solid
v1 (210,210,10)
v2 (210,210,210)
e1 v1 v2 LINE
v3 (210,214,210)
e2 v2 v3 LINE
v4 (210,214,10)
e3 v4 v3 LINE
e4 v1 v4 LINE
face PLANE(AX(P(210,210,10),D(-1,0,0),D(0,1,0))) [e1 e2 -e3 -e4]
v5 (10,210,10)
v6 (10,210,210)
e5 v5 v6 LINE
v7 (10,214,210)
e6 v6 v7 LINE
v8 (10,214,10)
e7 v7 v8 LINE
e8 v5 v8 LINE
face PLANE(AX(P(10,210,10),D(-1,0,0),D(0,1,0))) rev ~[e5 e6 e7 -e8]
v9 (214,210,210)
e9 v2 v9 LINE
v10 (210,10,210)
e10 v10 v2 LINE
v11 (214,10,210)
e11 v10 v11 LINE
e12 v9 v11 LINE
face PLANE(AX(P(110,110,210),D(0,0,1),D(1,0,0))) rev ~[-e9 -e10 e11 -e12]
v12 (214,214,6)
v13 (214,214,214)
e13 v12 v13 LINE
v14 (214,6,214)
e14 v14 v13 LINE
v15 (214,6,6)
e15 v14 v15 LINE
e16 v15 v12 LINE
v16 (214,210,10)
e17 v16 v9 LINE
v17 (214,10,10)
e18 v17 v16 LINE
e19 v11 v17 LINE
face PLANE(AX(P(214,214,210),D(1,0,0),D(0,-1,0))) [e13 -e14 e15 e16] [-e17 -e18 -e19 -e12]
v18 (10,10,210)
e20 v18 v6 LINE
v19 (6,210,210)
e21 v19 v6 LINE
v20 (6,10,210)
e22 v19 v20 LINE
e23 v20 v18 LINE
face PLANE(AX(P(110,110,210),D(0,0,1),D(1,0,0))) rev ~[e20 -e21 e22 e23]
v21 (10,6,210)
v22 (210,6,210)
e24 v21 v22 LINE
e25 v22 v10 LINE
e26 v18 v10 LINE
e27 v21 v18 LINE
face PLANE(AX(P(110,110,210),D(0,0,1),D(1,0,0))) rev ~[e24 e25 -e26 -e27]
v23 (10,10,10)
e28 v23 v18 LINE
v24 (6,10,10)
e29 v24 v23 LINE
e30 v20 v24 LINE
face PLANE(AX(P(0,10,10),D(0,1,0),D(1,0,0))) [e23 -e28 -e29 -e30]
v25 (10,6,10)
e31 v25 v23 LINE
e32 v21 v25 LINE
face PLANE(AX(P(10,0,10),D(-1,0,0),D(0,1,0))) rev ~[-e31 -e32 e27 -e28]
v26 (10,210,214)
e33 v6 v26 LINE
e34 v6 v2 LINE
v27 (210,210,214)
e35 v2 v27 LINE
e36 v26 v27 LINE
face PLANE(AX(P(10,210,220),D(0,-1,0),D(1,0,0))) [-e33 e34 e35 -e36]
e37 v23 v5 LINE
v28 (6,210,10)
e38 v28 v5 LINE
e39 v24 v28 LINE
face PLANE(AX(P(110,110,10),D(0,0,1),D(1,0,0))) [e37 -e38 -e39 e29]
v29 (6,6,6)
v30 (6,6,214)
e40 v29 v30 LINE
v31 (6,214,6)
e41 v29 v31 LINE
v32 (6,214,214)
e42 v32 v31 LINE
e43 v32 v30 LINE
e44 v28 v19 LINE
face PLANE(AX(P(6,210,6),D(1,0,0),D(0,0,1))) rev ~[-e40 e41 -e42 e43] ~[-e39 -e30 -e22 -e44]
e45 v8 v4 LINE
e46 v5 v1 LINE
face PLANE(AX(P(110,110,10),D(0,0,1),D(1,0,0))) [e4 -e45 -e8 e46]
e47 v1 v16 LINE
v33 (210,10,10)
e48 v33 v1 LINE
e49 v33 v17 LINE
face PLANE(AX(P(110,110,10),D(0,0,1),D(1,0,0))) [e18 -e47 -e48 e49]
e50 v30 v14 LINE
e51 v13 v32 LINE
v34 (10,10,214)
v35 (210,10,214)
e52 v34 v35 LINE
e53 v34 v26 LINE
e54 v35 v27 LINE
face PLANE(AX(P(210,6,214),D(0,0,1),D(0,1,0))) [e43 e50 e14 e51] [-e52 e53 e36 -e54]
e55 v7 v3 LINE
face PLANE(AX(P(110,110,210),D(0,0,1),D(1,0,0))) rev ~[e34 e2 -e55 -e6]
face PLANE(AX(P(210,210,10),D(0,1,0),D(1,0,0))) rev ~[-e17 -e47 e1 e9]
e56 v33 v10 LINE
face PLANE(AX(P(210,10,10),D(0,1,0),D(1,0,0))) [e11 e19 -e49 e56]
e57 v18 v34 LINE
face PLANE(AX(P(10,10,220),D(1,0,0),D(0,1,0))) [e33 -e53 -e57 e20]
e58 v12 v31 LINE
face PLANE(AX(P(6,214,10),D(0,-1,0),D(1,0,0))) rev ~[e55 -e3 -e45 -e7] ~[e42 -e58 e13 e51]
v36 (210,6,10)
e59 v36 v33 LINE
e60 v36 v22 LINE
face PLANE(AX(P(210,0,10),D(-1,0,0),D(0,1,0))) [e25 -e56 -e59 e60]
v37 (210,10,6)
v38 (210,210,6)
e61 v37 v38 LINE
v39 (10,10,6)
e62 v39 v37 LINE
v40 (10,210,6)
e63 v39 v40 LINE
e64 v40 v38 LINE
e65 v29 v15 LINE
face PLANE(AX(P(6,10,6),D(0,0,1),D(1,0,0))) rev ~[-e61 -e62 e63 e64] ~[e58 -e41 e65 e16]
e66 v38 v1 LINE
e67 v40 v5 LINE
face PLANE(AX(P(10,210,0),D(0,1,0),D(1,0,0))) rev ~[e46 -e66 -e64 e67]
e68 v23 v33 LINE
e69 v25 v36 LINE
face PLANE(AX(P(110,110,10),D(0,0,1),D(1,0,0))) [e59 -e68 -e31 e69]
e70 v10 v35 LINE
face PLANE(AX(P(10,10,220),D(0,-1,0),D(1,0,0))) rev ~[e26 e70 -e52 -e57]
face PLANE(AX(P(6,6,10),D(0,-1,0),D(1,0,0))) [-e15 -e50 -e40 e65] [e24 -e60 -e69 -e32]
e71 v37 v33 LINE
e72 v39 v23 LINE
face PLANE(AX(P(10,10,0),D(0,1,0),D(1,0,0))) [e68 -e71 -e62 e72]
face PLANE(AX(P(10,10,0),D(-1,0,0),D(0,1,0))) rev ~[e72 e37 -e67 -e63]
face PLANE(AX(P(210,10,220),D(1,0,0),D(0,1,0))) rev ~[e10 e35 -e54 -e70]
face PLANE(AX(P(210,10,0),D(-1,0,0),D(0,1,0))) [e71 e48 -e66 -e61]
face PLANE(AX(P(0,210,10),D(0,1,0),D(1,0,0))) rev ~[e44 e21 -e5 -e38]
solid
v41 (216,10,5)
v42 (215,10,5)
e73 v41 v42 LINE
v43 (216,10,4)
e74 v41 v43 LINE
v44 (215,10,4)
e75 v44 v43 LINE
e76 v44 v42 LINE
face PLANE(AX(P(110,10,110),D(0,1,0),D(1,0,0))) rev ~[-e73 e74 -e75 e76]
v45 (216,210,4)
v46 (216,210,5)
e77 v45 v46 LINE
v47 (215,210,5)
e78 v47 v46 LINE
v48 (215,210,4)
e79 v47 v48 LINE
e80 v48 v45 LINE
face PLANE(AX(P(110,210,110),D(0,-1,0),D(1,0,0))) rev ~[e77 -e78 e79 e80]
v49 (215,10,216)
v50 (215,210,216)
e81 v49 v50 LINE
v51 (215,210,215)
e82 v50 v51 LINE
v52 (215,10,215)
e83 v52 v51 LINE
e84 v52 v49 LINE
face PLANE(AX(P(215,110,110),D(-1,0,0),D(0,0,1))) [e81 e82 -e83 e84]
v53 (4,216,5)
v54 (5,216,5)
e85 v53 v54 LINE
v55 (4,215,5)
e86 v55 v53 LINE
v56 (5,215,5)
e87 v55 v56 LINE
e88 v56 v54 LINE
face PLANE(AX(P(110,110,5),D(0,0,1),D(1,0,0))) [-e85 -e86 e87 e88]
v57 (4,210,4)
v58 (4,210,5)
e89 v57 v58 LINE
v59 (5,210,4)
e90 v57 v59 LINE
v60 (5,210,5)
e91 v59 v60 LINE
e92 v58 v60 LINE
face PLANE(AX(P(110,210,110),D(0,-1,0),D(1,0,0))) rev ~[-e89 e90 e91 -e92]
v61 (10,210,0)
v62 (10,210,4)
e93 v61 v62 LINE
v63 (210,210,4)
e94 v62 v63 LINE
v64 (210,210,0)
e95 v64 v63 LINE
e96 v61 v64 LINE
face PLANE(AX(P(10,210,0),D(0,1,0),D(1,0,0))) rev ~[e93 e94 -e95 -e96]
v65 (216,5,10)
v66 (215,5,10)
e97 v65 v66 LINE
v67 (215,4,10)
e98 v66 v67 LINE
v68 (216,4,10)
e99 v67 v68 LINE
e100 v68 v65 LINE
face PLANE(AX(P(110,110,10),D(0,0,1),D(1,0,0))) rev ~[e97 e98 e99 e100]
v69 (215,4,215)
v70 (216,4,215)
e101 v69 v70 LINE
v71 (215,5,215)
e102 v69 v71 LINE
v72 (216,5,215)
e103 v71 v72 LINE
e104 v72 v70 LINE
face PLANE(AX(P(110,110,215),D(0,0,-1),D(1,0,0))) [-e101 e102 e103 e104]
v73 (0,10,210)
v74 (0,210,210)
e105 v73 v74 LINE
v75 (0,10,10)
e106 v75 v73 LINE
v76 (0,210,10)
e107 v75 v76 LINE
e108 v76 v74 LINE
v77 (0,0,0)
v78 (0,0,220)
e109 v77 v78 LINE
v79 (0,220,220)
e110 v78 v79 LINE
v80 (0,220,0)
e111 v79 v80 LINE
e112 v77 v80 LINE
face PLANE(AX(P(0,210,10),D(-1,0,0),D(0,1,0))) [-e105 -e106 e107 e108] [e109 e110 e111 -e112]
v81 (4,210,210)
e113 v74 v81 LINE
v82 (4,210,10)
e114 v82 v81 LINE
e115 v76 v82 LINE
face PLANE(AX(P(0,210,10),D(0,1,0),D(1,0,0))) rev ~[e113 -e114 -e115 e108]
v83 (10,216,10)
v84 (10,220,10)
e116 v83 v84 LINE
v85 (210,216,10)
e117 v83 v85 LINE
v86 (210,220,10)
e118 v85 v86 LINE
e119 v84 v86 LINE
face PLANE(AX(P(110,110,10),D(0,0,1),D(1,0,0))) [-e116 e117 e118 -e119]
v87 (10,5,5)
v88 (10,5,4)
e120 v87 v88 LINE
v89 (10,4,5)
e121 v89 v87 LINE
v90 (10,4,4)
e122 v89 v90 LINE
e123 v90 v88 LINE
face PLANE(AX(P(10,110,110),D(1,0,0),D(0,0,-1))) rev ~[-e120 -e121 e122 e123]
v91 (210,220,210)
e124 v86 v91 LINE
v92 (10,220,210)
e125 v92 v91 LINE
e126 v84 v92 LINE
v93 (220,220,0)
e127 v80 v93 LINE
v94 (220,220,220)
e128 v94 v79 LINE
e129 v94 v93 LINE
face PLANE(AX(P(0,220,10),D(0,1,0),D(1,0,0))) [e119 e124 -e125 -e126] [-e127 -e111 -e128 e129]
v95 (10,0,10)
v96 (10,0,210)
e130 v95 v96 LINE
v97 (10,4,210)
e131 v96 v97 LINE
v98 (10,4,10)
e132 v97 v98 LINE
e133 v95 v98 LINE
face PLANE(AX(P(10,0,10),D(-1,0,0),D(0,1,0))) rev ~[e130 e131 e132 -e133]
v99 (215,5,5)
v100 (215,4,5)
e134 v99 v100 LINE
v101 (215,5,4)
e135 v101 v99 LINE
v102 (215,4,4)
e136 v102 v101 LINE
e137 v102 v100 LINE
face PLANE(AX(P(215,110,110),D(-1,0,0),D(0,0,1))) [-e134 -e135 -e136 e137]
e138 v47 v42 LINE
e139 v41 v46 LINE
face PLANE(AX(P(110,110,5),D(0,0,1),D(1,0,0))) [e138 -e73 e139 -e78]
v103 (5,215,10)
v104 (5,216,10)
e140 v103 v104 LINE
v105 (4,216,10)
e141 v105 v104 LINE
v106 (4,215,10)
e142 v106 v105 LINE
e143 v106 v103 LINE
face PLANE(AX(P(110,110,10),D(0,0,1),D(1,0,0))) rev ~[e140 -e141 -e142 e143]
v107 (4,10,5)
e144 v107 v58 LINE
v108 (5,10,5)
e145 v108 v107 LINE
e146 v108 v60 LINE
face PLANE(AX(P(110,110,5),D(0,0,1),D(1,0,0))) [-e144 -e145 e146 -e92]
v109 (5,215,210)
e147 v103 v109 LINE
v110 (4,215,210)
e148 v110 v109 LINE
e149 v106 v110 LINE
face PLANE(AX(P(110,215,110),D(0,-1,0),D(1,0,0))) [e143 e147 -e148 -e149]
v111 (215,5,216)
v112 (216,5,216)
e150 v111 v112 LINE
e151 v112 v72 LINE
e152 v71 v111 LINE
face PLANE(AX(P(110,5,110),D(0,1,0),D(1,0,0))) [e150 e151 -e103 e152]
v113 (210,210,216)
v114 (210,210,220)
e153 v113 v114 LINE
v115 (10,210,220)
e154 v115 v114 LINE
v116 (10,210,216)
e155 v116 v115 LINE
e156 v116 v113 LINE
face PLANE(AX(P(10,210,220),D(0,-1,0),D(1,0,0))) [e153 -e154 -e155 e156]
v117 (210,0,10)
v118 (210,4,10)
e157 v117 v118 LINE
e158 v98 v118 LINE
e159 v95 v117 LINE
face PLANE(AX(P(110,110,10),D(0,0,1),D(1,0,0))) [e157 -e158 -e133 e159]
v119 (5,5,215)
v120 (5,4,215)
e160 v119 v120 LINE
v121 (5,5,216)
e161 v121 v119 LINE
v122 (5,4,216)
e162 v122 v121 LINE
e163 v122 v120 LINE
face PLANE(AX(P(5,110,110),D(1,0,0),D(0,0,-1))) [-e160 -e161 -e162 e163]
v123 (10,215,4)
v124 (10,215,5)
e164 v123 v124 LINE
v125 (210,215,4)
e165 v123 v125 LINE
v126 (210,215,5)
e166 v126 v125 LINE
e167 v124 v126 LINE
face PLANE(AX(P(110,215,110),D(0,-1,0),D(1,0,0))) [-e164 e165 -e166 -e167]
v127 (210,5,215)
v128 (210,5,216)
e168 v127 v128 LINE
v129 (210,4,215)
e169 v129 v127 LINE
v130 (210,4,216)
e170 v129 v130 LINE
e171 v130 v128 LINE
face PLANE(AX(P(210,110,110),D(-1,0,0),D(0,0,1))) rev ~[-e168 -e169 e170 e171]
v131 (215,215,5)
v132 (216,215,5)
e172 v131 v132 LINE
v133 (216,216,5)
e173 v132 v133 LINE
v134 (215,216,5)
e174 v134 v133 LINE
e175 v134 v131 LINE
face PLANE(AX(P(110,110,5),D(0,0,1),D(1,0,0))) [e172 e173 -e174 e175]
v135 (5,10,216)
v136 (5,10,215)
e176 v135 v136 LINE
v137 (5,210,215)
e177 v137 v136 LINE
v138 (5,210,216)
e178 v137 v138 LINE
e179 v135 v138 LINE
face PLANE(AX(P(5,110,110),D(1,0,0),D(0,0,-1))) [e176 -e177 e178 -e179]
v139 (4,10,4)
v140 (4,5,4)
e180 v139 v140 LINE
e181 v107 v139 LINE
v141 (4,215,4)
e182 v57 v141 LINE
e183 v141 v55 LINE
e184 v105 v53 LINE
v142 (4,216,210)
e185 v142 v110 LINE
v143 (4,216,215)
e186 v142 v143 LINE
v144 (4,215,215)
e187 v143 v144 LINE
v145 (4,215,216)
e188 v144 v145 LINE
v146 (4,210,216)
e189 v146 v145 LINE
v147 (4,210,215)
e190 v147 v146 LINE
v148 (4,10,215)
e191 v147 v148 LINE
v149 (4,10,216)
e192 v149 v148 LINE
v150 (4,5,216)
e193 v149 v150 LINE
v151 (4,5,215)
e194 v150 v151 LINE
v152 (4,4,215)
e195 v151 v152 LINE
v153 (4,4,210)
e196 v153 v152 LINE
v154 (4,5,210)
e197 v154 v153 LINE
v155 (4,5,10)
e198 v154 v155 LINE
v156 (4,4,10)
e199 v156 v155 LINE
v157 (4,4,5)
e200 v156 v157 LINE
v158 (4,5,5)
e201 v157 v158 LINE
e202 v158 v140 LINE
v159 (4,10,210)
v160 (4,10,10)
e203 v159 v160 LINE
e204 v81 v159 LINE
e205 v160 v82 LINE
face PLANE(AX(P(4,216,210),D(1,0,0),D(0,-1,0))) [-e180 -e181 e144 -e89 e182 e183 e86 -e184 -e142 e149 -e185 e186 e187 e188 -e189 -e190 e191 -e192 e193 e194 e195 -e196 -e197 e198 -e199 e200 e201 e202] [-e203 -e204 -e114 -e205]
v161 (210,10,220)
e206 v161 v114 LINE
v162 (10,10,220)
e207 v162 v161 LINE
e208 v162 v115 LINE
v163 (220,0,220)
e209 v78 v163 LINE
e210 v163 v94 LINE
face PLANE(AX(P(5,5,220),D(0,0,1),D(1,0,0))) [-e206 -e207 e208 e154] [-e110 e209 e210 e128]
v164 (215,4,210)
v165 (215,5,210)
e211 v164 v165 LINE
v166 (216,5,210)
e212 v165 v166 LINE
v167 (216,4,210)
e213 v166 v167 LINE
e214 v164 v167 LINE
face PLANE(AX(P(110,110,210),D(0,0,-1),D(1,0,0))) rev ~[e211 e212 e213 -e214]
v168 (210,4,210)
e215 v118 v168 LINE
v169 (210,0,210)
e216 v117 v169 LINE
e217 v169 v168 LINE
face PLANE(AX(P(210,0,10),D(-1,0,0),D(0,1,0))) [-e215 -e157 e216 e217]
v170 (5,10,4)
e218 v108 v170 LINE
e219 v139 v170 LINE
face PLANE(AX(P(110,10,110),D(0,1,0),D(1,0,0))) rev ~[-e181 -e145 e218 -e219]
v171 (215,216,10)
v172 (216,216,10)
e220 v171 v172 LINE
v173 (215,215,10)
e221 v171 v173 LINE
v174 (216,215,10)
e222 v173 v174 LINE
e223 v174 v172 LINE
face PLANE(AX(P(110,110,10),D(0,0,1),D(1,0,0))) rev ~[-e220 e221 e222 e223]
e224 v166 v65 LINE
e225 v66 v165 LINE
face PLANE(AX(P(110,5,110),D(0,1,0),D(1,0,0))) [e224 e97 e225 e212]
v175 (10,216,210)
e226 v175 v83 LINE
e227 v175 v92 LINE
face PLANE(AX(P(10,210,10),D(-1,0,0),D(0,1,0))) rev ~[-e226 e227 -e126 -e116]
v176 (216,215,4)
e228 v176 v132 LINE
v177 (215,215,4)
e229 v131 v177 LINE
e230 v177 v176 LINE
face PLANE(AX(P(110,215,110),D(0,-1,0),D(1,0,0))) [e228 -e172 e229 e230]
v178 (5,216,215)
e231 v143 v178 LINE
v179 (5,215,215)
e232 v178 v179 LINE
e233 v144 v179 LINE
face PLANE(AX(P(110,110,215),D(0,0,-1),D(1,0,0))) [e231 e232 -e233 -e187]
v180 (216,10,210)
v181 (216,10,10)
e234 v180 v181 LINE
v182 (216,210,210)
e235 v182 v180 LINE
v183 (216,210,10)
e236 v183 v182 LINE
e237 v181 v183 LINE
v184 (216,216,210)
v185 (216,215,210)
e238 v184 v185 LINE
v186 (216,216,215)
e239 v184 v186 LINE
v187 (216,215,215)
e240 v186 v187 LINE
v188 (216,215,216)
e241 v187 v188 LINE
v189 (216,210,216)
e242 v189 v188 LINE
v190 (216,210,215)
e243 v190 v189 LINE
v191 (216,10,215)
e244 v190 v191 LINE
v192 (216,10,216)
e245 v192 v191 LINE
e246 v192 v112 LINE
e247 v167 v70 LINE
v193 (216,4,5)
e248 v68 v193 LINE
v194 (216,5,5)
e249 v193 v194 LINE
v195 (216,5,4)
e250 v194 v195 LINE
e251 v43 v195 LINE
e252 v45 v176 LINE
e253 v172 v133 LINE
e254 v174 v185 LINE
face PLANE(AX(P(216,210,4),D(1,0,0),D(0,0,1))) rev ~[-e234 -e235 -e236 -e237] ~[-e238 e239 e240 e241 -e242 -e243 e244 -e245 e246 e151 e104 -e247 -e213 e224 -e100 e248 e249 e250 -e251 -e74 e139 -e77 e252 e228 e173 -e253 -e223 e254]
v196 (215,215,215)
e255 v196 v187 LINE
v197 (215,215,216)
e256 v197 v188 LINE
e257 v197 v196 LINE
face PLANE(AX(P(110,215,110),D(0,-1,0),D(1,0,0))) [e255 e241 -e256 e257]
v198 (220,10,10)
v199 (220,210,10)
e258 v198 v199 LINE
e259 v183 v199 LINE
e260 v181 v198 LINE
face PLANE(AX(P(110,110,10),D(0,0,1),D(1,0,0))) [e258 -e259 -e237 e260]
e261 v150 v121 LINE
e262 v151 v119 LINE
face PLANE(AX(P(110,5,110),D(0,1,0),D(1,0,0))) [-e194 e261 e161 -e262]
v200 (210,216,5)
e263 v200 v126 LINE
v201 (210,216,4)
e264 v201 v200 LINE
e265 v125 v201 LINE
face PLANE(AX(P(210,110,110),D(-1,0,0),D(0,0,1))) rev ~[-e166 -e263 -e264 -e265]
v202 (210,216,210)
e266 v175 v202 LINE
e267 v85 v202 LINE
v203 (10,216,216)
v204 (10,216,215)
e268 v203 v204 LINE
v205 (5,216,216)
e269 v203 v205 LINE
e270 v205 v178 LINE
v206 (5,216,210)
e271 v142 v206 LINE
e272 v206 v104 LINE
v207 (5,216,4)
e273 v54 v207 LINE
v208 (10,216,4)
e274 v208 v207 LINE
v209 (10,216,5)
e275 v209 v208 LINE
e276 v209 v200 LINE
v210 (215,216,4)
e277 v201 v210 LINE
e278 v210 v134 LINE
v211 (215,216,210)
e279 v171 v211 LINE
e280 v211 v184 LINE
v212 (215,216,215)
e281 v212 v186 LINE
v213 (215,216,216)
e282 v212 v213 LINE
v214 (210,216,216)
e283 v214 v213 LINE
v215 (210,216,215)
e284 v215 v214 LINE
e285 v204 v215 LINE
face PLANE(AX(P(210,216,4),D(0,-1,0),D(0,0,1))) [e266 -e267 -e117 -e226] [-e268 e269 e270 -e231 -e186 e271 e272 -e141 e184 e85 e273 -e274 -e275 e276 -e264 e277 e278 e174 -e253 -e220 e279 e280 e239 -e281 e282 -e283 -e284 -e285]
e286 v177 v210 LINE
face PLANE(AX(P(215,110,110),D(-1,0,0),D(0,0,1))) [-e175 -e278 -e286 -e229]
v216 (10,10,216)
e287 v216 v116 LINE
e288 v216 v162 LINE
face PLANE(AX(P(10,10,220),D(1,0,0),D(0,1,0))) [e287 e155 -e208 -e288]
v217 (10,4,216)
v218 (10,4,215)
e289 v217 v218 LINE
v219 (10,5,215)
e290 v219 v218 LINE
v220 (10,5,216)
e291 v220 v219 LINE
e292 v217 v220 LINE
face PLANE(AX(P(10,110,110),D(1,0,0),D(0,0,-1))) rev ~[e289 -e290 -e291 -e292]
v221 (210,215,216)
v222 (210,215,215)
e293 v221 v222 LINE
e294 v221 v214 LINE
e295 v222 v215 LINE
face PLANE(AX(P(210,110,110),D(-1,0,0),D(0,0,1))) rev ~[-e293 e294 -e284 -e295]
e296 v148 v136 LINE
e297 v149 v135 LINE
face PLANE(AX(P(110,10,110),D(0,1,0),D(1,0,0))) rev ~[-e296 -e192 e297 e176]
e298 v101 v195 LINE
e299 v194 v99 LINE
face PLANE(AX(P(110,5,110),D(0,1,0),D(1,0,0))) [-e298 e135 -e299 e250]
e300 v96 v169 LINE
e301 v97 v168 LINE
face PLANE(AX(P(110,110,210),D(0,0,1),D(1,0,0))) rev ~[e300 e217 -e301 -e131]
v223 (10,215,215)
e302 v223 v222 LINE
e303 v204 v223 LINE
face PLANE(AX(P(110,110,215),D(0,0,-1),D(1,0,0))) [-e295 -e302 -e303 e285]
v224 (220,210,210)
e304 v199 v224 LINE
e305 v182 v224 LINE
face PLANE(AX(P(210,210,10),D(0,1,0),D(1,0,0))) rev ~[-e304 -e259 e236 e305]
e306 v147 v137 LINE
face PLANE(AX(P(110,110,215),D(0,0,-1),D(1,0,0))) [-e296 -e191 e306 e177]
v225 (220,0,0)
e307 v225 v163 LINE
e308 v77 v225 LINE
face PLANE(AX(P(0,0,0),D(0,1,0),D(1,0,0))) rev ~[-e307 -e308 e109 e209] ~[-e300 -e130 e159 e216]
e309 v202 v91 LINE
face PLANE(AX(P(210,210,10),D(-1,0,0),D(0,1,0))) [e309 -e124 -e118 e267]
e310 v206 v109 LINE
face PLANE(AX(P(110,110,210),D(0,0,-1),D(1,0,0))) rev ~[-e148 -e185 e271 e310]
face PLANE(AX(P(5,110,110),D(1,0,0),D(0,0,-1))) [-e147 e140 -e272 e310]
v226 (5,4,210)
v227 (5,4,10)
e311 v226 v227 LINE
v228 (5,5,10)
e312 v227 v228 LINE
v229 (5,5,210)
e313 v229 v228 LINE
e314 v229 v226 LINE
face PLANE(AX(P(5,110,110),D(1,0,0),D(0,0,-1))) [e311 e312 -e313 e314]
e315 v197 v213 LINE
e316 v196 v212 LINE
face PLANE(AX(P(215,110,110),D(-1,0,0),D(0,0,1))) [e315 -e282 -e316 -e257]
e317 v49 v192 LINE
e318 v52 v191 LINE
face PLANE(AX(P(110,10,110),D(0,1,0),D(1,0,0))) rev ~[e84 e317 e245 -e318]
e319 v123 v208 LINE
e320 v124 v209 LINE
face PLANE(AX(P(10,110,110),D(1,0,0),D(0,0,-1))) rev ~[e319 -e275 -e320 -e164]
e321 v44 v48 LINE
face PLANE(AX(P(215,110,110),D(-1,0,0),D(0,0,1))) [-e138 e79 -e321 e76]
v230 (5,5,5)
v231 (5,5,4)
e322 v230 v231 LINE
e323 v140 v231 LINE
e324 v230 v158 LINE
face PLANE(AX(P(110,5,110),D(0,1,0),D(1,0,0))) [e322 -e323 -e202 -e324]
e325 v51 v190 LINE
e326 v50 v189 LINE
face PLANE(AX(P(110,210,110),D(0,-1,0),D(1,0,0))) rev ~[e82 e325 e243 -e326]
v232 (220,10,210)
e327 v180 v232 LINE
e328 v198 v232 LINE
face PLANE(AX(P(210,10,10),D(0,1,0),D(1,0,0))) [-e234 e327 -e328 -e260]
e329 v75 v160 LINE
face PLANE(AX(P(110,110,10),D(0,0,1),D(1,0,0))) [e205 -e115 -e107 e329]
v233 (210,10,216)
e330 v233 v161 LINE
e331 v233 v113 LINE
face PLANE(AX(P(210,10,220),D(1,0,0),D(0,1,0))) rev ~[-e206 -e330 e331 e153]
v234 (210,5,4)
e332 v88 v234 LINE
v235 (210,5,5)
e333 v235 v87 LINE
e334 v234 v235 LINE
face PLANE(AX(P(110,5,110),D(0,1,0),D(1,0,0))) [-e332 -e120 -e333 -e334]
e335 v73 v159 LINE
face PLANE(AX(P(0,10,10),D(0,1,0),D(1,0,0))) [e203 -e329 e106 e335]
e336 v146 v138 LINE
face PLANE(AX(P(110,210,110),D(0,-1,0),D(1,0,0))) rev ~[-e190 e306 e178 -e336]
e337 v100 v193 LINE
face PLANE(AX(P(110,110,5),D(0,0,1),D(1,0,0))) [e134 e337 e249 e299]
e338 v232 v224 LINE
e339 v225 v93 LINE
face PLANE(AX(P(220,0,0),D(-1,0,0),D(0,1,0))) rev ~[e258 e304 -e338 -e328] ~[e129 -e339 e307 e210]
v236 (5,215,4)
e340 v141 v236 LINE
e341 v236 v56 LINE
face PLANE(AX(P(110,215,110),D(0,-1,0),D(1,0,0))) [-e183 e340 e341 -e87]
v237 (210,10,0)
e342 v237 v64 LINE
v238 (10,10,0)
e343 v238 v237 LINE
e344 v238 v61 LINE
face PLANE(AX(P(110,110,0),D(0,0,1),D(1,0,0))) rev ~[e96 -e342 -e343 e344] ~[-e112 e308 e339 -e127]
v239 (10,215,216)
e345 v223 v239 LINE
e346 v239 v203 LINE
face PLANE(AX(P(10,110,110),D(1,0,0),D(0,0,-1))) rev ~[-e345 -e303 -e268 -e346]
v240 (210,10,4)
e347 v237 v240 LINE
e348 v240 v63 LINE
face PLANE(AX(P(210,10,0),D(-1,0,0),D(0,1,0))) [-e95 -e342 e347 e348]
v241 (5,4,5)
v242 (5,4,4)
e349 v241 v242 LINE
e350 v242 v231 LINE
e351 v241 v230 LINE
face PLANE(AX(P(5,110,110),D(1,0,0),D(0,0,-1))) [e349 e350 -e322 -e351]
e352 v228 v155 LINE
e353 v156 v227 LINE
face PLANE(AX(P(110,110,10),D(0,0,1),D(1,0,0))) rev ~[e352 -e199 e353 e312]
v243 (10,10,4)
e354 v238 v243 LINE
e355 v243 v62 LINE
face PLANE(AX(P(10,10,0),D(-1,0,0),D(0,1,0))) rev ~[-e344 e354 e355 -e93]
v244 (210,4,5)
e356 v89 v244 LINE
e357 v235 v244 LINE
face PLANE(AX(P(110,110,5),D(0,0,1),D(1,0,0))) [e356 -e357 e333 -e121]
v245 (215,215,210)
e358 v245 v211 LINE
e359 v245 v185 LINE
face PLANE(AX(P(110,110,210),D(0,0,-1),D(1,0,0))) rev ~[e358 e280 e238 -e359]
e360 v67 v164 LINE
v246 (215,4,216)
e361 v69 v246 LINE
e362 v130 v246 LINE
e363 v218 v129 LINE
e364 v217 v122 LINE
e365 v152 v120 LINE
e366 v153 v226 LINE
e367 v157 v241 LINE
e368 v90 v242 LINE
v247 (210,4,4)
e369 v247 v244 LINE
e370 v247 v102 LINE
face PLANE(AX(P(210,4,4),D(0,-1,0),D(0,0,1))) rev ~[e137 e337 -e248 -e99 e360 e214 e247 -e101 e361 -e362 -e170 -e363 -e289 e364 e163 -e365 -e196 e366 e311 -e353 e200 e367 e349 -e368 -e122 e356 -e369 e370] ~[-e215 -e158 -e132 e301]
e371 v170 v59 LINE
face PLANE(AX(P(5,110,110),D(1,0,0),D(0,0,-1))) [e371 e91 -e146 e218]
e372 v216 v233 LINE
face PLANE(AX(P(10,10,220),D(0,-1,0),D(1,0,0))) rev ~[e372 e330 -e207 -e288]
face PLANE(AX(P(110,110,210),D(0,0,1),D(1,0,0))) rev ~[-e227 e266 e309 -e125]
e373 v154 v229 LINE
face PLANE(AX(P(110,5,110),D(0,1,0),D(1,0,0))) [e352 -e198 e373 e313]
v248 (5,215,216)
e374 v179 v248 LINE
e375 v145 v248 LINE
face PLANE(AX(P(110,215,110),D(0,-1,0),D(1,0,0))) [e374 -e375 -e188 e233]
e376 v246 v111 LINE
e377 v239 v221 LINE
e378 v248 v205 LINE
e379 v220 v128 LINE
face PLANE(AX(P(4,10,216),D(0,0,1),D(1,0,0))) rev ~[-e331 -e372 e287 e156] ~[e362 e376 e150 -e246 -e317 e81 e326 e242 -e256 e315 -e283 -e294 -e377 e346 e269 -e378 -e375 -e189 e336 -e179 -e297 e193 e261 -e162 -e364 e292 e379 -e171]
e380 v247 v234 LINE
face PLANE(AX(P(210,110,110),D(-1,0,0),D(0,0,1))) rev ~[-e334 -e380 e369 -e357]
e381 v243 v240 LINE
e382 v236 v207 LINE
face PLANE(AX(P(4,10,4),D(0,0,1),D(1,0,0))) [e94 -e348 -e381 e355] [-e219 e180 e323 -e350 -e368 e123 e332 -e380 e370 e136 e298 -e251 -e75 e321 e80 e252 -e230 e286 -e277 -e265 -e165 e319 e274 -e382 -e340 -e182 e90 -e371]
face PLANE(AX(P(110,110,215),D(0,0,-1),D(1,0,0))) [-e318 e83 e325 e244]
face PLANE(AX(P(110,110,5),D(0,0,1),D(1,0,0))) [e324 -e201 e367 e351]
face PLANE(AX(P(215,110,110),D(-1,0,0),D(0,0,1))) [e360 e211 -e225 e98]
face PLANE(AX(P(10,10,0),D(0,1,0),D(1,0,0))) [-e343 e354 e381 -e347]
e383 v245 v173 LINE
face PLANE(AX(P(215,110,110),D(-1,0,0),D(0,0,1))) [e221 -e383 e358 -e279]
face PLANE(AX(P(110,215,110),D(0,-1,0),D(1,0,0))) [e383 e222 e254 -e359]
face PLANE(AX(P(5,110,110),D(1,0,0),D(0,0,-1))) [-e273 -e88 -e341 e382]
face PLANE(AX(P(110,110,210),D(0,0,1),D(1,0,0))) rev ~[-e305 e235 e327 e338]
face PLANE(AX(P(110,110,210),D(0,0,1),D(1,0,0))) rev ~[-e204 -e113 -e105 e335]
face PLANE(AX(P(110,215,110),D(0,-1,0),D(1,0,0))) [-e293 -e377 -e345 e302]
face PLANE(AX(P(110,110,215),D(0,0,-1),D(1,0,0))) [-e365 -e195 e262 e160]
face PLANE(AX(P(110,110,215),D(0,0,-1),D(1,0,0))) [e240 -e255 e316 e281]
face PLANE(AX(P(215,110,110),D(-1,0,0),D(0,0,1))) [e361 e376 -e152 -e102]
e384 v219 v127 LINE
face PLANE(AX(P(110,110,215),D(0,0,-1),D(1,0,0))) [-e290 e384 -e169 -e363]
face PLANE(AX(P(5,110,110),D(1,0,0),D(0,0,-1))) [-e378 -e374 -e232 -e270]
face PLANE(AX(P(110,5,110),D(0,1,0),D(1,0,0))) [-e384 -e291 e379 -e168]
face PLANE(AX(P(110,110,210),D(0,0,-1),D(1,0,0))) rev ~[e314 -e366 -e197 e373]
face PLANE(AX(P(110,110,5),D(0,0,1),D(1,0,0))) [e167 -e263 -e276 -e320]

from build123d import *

# Parameters (mm, degrees)
CROQUIS1_W            = 220
CROQUIS1_H            = 220
CROQUIS1_W_2          = 200
CROQUIS1_H_2          = 200
MARCOBASE_DEPTH       = 10
CROQUIS2_W            = 10
CROQUIS2_H            = 10
PILARES_DEPTH         = 210
CROQUIS3_W            = 220
CROQUIS3_H            = 220
CROQUIS3_W_2          = 200
CROQUIS3_H_2          = 200
EXTERIOR_DEPTH        = 10
CROQUIS8_W            = 212
CROQUIS8_H            = 212
CROQUIS8_W_2          = 208
CROQUIS8_H_2          = 208
CORTAR_EXTRUIR5_DEPTH = 5
MATRIZC1_COUNT        = 4
MATRIZC2_COUNT        = 4


with BuildPart() as part:
    # Croquis1 → MarcoBase (new body)
    with BuildSketch(Plane.XY):
        with Locations((110, 110)):
            Rectangle(CROQUIS1_W, CROQUIS1_H)
        with Locations((110, 110)):
            Rectangle(CROQUIS1_W_2, CROQUIS1_H_2, mode=Mode.SUBTRACT)
    extrude(amount=MARCOBASE_DEPTH)

    # Croquis2 → Pilares (add)
    with BuildSketch(Plane.XY.offset(10)):
        with Locations((5, 215)):
            Rectangle(CROQUIS2_W, CROQUIS2_H)
        with Locations((215, 215)):
            Rectangle(CROQUIS2_W, CROQUIS2_H)
        with Locations((215, 5)):
            Rectangle(CROQUIS2_W, CROQUIS2_H)
        with Locations((5, 5)):
            Rectangle(CROQUIS2_W, CROQUIS2_H)
    extrude(amount=PILARES_DEPTH)

    # Croquis3 → Exterior (add)
    with BuildSketch(Plane.XY.offset(220)):
        with Locations((110, 110)):
            Rectangle(CROQUIS3_W, CROQUIS3_H)
        with Locations((110, 110)):
            Rectangle(CROQUIS3_W_2, CROQUIS3_H_2, mode=Mode.SUBTRACT)
    extrude(amount=-EXTERIOR_DEPTH)

    # Croquis8 → Cortar-Extruir5 (cut)
    with BuildSketch(Plane.XY.offset(10)):
        with Locations((110, 110)):
            Rectangle(CROQUIS8_W, CROQUIS8_H)
        with Locations((110, 110)):
            Rectangle(CROQUIS8_W_2, CROQUIS8_H_2, mode=Mode.SUBTRACT)
    cortar_extruir5 = extrude(amount=-CORTAR_EXTRUIR5_DEPTH, mode=Mode.SUBTRACT)

    # MatrizC1: Cortar-Extruir5 ×4 about axis
    matrizc1_axis = Axis((262.5, 110, 110), (-1, 0, 0))
    for i in range(1, MATRIZC1_COUNT):
        add(cortar_extruir5.rotate(matrizc1_axis, i * 360 / MATRIZC1_COUNT), mode=Mode.SUBTRACT)

    # MatrizC2: Cortar-Extruir5 ×4 about axis
    matrizc2_axis = Axis((110, 262.5, 110), (0, -1, 0))
    for i in range(1, MATRIZC2_COUNT):
        add(cortar_extruir5.rotate(matrizc2_axis, i * 360 / MATRIZC2_COUNT), mode=Mode.SUBTRACT)


solid = part.part
